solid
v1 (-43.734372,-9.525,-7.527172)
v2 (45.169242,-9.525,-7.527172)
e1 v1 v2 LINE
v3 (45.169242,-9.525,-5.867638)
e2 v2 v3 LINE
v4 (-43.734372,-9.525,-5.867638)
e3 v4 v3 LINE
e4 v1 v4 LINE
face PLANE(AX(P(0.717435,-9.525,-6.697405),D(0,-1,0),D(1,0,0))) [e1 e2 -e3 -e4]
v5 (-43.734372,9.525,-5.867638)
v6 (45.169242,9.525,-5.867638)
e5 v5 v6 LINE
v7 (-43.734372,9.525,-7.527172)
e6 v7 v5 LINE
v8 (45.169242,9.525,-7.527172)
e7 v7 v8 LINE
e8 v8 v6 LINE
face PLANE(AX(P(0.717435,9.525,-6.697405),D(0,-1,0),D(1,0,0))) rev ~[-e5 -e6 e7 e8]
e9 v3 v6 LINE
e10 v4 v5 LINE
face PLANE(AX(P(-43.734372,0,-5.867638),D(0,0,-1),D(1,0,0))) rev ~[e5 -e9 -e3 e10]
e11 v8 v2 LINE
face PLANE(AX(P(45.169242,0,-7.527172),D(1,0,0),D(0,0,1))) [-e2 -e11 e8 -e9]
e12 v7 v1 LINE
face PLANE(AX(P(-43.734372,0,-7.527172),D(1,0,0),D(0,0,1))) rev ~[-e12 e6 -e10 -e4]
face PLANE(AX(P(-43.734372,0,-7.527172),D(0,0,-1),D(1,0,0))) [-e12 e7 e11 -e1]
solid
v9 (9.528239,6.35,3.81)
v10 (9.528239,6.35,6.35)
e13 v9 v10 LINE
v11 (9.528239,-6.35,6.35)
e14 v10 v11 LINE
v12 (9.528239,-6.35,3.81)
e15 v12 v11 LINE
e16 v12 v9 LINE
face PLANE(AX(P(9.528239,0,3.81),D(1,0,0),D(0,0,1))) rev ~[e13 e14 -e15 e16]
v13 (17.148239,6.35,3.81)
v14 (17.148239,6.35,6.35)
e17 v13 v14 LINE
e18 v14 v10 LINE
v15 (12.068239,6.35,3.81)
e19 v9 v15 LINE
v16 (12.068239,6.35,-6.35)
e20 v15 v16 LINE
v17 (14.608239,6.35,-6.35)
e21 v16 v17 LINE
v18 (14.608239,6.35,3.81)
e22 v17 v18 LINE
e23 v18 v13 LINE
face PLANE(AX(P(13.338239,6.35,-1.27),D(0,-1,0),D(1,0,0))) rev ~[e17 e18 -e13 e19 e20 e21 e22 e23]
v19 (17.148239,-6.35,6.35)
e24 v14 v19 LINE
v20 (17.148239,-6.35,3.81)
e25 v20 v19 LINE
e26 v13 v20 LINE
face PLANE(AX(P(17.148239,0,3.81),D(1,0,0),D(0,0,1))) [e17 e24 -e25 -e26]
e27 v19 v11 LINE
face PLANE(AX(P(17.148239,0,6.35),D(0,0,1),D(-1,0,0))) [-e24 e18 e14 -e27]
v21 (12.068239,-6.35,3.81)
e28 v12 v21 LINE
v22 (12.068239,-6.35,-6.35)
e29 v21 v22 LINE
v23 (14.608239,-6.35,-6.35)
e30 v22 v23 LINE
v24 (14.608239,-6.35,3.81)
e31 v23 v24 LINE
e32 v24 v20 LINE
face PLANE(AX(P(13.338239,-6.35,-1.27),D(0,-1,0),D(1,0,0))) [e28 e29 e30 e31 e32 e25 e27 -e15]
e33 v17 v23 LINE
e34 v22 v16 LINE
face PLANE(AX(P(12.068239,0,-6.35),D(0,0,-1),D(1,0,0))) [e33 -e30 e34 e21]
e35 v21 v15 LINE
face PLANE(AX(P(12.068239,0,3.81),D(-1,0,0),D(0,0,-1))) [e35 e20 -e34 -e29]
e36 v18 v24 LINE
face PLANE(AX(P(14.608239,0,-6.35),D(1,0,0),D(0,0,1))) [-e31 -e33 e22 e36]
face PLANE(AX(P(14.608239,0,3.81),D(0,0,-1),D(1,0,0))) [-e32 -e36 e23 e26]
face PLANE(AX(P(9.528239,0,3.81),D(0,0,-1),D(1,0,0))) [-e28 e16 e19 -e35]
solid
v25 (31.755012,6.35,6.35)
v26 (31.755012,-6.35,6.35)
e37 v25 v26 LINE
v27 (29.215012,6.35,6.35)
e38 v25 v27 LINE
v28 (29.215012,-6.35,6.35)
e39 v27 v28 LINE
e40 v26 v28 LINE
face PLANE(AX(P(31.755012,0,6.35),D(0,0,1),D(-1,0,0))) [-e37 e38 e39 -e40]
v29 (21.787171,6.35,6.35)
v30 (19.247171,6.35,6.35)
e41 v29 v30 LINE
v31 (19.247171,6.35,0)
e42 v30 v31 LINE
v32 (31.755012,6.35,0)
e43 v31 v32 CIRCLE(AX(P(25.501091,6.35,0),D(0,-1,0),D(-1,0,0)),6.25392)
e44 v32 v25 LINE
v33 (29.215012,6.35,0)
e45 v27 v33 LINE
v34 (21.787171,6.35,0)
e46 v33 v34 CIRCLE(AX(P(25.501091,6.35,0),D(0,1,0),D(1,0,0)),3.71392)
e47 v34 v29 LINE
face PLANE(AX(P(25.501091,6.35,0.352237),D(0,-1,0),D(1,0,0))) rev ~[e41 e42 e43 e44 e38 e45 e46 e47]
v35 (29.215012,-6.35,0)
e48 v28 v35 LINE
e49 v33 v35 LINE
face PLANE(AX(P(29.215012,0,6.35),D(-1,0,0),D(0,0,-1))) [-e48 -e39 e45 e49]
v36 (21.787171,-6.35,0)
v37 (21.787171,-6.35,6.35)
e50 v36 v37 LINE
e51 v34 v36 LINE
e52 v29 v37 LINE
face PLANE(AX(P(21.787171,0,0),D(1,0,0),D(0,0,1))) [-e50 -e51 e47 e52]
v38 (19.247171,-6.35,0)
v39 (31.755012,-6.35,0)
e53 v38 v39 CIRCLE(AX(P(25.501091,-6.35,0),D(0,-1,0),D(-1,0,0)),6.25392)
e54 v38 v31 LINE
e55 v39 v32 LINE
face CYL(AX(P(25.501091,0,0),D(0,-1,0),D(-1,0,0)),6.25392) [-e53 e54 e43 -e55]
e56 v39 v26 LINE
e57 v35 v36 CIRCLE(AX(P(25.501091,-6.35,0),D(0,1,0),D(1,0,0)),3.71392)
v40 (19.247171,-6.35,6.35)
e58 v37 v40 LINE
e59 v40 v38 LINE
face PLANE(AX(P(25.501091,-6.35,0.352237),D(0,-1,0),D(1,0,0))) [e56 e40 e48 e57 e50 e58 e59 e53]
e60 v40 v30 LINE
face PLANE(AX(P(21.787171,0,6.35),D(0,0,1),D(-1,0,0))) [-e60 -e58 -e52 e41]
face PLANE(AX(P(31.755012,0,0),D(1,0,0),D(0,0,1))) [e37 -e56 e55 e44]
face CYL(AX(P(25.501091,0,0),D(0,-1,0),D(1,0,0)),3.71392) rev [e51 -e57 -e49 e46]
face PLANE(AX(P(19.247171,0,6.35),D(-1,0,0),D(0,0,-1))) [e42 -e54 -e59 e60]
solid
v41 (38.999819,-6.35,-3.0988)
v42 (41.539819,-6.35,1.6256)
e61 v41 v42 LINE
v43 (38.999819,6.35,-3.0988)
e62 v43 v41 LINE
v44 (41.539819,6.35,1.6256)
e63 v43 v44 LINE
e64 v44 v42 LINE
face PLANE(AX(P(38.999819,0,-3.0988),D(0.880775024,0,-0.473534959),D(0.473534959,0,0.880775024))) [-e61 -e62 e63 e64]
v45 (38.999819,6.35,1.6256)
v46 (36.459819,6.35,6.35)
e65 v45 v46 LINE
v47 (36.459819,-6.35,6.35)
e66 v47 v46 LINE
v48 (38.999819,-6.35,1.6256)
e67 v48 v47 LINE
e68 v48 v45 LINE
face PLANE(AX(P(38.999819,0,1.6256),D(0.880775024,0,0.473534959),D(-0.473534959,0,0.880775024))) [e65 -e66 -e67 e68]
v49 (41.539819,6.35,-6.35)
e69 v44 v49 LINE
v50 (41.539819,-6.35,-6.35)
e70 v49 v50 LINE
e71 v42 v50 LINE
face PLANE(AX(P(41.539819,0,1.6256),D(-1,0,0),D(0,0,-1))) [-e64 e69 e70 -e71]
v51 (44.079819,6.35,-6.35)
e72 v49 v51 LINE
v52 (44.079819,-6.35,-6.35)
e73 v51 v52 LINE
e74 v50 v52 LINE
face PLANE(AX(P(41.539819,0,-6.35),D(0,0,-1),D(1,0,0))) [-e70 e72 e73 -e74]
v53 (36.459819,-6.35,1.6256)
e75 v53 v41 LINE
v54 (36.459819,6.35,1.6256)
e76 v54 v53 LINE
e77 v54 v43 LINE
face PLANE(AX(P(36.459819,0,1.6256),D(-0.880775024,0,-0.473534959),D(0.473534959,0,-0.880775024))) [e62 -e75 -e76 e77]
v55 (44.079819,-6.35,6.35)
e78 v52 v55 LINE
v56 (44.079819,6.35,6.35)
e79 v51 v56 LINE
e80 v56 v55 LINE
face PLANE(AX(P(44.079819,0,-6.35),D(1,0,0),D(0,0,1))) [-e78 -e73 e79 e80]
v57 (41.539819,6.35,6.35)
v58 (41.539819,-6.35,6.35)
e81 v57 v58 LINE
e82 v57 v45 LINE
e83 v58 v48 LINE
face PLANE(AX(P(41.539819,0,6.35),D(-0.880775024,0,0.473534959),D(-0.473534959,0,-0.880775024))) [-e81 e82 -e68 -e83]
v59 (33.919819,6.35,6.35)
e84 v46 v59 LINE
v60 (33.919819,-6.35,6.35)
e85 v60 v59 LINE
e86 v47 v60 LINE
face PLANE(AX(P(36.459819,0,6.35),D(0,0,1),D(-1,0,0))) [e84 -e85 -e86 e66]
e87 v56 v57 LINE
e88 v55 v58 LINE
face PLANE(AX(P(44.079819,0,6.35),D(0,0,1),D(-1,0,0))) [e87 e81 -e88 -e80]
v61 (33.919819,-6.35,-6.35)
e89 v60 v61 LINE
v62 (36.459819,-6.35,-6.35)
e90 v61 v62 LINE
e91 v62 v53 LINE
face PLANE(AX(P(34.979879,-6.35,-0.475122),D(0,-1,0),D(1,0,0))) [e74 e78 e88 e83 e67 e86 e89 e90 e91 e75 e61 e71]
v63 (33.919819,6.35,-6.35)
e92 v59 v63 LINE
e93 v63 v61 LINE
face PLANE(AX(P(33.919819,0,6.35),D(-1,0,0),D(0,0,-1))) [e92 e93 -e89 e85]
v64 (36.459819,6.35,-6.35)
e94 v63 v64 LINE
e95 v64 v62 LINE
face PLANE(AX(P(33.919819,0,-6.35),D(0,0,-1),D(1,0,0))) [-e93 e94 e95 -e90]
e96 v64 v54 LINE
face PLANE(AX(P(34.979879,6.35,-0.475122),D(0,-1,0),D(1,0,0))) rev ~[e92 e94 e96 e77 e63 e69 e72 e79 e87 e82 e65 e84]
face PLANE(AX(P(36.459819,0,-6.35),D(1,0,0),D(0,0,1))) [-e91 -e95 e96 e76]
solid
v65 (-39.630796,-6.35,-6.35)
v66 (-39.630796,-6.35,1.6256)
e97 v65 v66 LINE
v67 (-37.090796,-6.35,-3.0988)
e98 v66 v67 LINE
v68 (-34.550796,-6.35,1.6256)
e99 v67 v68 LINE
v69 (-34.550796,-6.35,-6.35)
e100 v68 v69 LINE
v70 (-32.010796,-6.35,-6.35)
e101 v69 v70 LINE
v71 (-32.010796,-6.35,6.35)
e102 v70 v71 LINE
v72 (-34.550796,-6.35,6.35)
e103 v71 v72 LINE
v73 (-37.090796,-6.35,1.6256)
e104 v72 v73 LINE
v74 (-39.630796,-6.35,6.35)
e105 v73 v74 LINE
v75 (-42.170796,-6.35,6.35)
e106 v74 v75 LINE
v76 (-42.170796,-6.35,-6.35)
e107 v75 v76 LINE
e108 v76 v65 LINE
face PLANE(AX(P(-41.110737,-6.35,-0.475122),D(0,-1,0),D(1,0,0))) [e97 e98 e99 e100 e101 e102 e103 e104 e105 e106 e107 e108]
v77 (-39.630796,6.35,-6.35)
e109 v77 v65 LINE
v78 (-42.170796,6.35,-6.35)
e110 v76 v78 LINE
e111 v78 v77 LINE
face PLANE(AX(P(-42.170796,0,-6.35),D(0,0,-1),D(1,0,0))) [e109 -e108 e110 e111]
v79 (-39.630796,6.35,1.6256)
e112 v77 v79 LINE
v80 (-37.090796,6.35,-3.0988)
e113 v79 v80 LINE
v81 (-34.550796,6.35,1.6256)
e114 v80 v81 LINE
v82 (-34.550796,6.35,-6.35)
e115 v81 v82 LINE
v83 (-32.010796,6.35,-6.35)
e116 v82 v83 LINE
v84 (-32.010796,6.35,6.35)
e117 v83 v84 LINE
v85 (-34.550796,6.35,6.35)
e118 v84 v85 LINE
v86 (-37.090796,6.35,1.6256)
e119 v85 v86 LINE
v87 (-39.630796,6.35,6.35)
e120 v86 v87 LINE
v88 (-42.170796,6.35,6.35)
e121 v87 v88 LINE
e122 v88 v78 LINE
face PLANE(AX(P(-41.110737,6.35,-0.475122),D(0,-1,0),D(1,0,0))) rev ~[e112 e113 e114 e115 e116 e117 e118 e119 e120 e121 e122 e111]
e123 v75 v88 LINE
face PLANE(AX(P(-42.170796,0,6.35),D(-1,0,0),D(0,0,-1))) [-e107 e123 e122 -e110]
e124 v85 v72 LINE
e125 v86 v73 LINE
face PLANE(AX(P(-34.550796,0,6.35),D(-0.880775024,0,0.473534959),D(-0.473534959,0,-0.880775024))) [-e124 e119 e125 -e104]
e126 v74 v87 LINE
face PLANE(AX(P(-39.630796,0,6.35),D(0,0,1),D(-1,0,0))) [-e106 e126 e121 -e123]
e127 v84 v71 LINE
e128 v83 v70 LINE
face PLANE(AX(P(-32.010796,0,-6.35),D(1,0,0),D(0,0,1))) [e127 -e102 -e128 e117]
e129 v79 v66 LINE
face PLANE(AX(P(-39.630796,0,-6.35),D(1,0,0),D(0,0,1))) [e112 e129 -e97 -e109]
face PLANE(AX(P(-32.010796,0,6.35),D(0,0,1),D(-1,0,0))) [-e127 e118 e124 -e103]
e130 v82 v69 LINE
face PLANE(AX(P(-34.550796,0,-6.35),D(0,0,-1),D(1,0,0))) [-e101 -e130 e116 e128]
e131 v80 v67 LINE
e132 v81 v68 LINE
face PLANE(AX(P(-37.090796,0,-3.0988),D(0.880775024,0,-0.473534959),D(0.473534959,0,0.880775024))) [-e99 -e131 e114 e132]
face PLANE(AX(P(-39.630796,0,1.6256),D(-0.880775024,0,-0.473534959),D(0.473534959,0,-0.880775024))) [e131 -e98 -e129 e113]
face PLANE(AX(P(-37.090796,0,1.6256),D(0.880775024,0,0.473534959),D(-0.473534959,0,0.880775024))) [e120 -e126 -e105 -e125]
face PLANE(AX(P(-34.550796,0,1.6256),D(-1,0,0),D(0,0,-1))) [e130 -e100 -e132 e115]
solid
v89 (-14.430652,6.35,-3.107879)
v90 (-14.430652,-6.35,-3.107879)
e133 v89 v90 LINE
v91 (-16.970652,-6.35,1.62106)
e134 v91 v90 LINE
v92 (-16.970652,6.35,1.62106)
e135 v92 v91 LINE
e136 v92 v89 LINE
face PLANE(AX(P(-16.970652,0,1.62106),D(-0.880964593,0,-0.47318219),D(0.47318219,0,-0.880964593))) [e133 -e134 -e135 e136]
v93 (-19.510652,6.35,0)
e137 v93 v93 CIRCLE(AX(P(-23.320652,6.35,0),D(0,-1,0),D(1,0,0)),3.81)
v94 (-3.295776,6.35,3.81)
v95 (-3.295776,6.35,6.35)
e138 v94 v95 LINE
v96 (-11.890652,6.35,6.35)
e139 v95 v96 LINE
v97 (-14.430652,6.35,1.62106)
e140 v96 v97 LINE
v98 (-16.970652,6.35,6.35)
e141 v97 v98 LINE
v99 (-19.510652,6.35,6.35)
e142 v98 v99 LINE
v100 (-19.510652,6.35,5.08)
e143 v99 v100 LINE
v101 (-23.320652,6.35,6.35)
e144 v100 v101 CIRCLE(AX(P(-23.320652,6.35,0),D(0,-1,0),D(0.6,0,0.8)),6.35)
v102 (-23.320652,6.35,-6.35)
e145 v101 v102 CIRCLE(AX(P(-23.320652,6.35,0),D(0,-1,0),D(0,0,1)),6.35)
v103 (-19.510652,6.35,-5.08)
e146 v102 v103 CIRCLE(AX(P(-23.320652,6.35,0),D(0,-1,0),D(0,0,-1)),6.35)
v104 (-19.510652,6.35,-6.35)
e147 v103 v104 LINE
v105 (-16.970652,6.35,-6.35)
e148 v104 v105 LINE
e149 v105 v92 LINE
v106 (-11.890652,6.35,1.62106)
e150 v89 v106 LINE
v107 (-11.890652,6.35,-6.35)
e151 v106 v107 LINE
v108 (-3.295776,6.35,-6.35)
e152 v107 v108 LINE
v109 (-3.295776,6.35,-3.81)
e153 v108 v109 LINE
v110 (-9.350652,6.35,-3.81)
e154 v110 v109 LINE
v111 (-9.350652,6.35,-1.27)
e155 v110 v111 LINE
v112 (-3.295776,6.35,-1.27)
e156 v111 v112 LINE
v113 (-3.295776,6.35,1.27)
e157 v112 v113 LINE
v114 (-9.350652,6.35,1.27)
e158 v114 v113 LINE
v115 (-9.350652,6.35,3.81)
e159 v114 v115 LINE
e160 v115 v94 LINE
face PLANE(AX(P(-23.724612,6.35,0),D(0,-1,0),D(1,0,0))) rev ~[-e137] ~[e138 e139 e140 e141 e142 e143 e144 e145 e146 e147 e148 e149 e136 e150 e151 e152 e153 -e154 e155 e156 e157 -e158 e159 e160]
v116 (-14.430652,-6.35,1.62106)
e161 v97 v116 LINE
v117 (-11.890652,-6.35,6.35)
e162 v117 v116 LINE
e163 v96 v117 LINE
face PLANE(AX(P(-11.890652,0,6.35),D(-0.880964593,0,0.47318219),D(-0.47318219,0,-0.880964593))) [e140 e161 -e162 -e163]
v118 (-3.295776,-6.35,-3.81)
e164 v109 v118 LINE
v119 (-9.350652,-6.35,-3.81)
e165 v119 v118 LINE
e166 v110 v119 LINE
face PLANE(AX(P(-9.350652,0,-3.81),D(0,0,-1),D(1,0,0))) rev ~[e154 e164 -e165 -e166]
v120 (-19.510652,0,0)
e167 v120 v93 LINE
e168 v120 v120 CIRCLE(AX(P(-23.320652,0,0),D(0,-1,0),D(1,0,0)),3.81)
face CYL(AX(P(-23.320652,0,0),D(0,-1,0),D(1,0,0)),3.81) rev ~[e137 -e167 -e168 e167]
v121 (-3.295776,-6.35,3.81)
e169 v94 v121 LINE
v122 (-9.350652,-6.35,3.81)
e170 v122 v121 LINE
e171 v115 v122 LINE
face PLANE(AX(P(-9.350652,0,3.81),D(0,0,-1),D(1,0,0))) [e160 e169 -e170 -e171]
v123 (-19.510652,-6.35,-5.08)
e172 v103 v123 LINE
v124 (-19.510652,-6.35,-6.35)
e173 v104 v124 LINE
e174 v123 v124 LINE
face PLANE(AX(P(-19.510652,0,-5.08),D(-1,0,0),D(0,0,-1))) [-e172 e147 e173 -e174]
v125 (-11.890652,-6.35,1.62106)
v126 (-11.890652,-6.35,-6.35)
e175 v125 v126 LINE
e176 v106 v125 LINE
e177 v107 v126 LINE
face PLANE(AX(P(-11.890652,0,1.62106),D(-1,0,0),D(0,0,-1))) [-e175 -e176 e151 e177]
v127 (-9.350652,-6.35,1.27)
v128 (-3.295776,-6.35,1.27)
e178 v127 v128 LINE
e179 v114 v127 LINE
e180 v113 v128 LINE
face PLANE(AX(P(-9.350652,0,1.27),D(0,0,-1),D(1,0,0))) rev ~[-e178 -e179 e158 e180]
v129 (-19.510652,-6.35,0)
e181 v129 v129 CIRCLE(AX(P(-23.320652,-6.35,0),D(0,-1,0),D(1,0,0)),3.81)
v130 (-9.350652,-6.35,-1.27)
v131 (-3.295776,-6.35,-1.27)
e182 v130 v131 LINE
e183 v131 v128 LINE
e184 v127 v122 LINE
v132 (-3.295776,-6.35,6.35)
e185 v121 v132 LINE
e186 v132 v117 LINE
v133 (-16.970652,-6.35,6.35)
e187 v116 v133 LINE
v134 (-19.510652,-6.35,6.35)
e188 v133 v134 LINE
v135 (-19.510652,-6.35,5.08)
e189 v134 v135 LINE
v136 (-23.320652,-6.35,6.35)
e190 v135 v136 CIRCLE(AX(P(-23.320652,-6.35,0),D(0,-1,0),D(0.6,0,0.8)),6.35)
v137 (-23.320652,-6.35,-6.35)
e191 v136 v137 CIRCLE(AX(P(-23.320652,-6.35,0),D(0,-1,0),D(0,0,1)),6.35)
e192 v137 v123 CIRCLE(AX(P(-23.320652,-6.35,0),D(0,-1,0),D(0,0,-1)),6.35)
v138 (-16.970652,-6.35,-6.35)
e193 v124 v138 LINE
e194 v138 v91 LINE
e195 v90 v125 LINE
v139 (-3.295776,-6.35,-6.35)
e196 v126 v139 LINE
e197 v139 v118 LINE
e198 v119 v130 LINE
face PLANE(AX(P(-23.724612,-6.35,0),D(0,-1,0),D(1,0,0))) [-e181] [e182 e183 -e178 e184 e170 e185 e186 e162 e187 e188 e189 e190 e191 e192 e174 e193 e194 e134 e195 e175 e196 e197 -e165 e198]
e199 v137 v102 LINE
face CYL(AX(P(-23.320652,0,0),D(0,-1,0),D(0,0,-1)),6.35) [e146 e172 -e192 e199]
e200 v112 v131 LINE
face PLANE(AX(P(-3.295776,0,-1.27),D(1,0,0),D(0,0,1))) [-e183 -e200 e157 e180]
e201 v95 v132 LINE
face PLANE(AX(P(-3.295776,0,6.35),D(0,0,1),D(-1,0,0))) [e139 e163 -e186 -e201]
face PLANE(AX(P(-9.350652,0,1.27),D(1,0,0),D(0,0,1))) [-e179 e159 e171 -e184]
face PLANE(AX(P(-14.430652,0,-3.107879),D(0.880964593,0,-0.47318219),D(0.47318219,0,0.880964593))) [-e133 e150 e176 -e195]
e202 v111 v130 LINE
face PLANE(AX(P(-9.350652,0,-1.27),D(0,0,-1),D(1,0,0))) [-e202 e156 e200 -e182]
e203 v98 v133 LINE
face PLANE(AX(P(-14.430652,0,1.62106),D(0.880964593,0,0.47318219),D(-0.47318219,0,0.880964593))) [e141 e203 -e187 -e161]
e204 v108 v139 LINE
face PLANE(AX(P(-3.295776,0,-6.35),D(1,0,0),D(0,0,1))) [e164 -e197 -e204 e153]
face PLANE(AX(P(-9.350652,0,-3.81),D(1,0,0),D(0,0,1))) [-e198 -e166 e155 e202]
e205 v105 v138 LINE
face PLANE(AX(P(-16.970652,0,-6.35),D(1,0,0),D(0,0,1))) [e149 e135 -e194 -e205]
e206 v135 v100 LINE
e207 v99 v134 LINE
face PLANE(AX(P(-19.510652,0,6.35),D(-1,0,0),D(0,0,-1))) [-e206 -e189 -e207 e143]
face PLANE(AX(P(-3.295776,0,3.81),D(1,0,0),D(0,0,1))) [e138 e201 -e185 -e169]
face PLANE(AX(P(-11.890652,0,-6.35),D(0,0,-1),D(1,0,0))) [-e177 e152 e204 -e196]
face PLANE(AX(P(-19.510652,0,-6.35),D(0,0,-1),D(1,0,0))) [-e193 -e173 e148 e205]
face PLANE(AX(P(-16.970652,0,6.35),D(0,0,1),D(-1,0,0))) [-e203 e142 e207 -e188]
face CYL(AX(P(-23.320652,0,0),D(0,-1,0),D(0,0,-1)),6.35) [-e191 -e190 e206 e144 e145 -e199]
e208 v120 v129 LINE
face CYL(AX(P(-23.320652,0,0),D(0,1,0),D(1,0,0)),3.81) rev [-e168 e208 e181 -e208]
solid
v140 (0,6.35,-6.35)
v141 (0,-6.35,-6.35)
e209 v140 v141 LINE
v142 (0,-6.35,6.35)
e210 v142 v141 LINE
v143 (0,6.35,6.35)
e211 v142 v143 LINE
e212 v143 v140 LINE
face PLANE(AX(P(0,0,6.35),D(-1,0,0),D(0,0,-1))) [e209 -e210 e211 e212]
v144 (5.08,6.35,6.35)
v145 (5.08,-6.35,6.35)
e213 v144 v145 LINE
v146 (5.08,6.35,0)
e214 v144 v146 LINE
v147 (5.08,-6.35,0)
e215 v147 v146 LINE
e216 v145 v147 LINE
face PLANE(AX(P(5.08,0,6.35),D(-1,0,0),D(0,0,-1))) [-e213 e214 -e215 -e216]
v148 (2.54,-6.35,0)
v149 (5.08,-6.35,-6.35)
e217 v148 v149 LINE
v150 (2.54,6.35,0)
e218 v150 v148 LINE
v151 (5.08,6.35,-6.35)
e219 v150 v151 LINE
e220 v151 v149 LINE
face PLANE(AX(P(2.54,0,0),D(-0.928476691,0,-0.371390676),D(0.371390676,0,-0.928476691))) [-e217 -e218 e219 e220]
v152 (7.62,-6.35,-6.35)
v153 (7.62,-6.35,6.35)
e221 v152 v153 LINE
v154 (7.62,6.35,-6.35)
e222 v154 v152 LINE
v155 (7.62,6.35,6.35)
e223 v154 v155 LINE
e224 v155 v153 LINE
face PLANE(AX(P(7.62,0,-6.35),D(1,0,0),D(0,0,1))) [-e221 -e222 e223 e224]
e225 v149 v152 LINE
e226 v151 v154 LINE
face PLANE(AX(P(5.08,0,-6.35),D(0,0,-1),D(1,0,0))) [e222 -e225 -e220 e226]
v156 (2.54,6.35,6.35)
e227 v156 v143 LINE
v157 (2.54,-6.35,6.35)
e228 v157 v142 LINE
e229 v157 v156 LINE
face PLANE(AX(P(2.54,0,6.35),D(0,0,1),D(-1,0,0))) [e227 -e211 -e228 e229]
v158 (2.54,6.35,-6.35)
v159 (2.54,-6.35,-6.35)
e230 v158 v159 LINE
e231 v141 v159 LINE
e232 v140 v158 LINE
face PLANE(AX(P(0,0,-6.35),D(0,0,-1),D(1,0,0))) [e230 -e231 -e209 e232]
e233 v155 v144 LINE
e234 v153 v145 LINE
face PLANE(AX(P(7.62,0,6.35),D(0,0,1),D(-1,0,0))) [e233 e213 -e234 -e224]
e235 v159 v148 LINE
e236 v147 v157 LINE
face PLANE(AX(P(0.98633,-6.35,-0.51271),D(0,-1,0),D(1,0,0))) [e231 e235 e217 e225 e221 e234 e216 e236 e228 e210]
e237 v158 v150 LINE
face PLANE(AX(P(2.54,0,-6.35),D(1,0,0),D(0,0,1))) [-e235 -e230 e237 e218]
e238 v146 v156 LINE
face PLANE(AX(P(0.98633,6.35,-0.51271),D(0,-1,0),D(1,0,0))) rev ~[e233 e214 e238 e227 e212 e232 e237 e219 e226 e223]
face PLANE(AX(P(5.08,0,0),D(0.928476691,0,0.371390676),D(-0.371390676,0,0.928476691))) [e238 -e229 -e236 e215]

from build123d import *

# Parameters (mm, degrees)
F1_DEPTH = 6.35
F0_R     = 3.81
F0_W     = 6.0548761711
F0_H     = 2.54
F0_W_2   = 2.54
F0_H_2   = 10.16
F2_W     = 88.9036133885
F2_H     = 1.6595339403
F3_DEPTH = 9.525


with BuildPart() as f1:
    # F0 (on Front) → F1 (new body, symmetric)
    with BuildSketch(Plane.XZ):
        Polygon((-42.1707964678, -6.35), (-39.6307964678, -6.35), (-39.6307964678, 1.6256), (-42.1707964678, 6.35), align=None)
        Polygon((-42.1707964678, 6.35), (-39.6307964678, 1.6256), (-39.6307964678, 6.35), align=None)
        Polygon((-39.6307964678, 6.35), (-39.6307964678, 1.6256), (-37.0907964678, -3.0988), (-37.0907964678, 1.6256), align=None)
        Polygon((-37.0907964678, 1.6256), (-37.0907964678, -3.0988), (-34.5507964678, 1.6256), (-34.5507964678, 6.35), align=None)
        Polygon((-34.5507964678, 6.35), (-34.5507964678, 1.6256), (-32.0107964678, 6.35), align=None)
        Polygon((-34.5507964678, 1.6256), (-34.5507964678, -6.35), (-32.0107964678, -6.35), (-32.0107964678, 6.35), align=None)
    extrude(amount=F1_DEPTH, both=True)


with BuildPart() as f1b:
    # F0 (on Front) → F1, piece 2 (new body, symmetric)
    with BuildSketch(Plane.XZ):
        with BuildLine():
            ThreePointArc((-23.3206523725, 6.35), (-29.6706523725, 0), (-23.3206523725, -6.35))
            ThreePointArc((-23.3206523725, -6.35), (-21.3126060583, -6.0241389426), (-19.5106523725, -5.08))
            Line((-19.5106523725, -5.08), (-19.5106523725, 0))
            Line((-19.5106523725, 0), (-19.5106523725, 5.08))
            ThreePointArc((-19.5106523725, 5.08), (-21.3126060583, 6.0241389426), (-23.3206523725, 6.35))
        make_face()
        with Locations((-23.3206523725, 0)):
            Circle(F0_R, mode=Mode.SUBTRACT)
        with BuildLine():
            ThreePointArc((-16.9706523725, 0), (-17.6410397097, 2.8398063314), (-19.5106523725, 5.08))
            Line((-19.5106523725, 5.08), (-19.5106523725, 0))
            Line((-19.5106523725, 0), (-16.9706523725, 0))
        make_face()
        with BuildLine():
            Line((-19.5106523725, 0), (-19.5106523725, -5.08))
            ThreePointArc((-19.5106523725, -5.08), (-17.6410397097, -2.8398063314), (-16.9706523725, 0))
            Line((-16.9706523725, 0), (-19.5106523725, 0))
        make_face()
        with BuildLine():
            Line((-19.5106523725, -5.08), (-19.5106523725, -6.35))
            Line((-19.5106523725, -6.35), (-16.9706523725, -6.35))
            Line((-16.9706523725, -6.35), (-16.9706523725, 0))
            ThreePointArc((-16.9706523725, 0), (-17.6410397097, -2.8398063314), (-19.5106523725, -5.08))
        make_face()
        Polygon((-16.9706523725, 6.35), (-19.5106523725, 6.35), (-16.9706523725, 1.621060252), align=None)
        with BuildLine():
            Line((-16.9706523725, 1.621060252), (-19.5106523725, 6.35))
            Line((-19.5106523725, 6.35), (-19.5106523725, 5.08))
            ThreePointArc((-19.5106523725, 5.08), (-17.6410397097, 2.8398063314), (-16.9706523725, 0))
            Line((-16.9706523725, 0), (-16.9706523725, 1.621060252))
        make_face()
        Polygon((-14.4306523725, 1.621060252), (-16.9706523725, 6.35), (-16.9706523725, 1.621060252), (-14.4306523725, -3.1078794961), align=None)
        Polygon((-11.8906523725, 6.35), (-14.4306523725, 1.621060252), (-14.4306523725, -3.1078794961), (-11.8906523725, 1.621060252), (-11.8906523725, 3.81), align=None)
        Polygon((-9.3506523725, 6.35), (-11.8906523725, 6.35), (-11.8906523725, 3.81), (-10.7149328125, 3.81), align=None)
        Polygon((-11.8906523725, 3.81), (-11.8906523725, 1.621060252), (-10.7149328125, 3.81), align=None)
        with Locations((-6.323214287, 5.08)):
            Rectangle(F0_W, F0_H)
        Polygon((-10.7149328125, 3.81), (-11.8906523725, 1.621060252), (-11.8906523725, 1.27), (-9.3506523725, 1.27), (-9.3506523725, 3.81), align=None)
        Polygon((-9.3506523725, 3.81), (-9.3506523725, 6.35), (-10.7149328125, 3.81), align=None)
        with Locations((-10.6206523725, 0)):
            Rectangle(F0_W_2, F0_H)
        with Locations((-6.323214287, 0)):
            Rectangle(F0_W, F0_H)
        with Locations((-10.6206523725, -2.54)):
            Rectangle(F0_W_2, F0_H)
        with Locations((-10.6206523725, -5.08)):
            Rectangle(F0_W_2, F0_H)
        with Locations((-6.323214287, -5.08)):
            Rectangle(F0_W, F0_H)
    extrude(amount=F1_DEPTH, both=True)


with BuildPart() as f1c:
    # F0 (on Front) → F1, piece 3 (new body, symmetric)
    with BuildSketch(Plane.XZ):
        Polygon((0, 6.35), (0, -6.35), (2.54, -6.35), (2.54, 0), align=None)
        Polygon((2.54, 6.35), (0, 6.35), (2.54, 0), align=None)
        Polygon((5.08, 0), (2.54, 6.35), (2.54, 0), (5.08, -6.35), align=None)
        Polygon((5.08, 0), (5.08, -6.35), (7.62, -6.35), align=None)
        Polygon((5.08, 6.35), (5.08, 0), (7.62, -6.35), (7.62, 6.35), align=None)
    extrude(amount=F1_DEPTH, both=True)


with BuildPart() as f1d:
    # F0 (on Front) → F1, piece 4 (new body, symmetric)
    with BuildSketch(Plane.XZ):
        with Locations((13.3382392576, -1.27)):
            Rectangle(F0_W_2, F0_H_2)
        with Locations((15.8782392576, 5.08)):
            Rectangle(F0_W_2, F0_H)
        with Locations((13.3382392576, 5.08)):
            Rectangle(F0_W_2, F0_H)
        with Locations((10.7982392576, 5.08)):
            Rectangle(F0_W_2, F0_H)
    extrude(amount=F1_DEPTH, both=True)


with BuildPart() as f1e:
    # F0 (on Front) → F1, piece 5 (new body, symmetric)
    with BuildSketch(Plane.XZ):
        with BuildLine():
            Line((31.7550115287, 0), (31.7550115287, 6.35))
            Line((31.7550115287, 6.35), (29.2150115287, 6.35))
            Line((29.2150115287, 6.35), (29.2150115287, 0))
            ThreePointArc((29.2150115287, 0), (25.5010910332, -3.7139204955), (21.7871705377, 0))
            Line((21.7871705377, 0), (21.7871705377, 6.35))
            Line((21.7871705377, 6.35), (19.2471705377, 6.35))
            Line((19.2471705377, 6.35), (19.2471705377, 0))
            ThreePointArc((19.2471705377, 0), (25.5010910332, -6.2539204955), (31.7550115287, 0))
        make_face()
    extrude(amount=F1_DEPTH, both=True)


with BuildPart() as f1f:
    # F0 (on Front) → F1, piece 6 (new body, symmetric)
    with BuildSketch(Plane.XZ):
        Polygon((33.9198186994, 6.35), (33.9198186994, -6.35), (36.4598186994, -6.35), (36.4598186994, 1.6256), align=None)
        Polygon((36.4598186994, 6.35), (33.9198186994, 6.35), (36.4598186994, 1.6256), align=None)
        Polygon((36.4598186994, 6.35), (36.4598186994, 1.6256), (38.9998186994, -3.0988), (38.9998186994, 1.6256), align=None)
        Polygon((38.9998186994, 1.6256), (38.9998186994, -3.0988), (41.5398186994, 1.6256), (41.5398186994, 6.35), align=None)
        Polygon((41.5398186994, 6.35), (41.5398186994, 1.6256), (44.0798186994, 6.35), align=None)
        Polygon((41.5398186994, 1.6256), (41.5398186994, -6.35), (44.0798186994, -6.35), (44.0798186994, 6.35), align=None)
    extrude(amount=F1_DEPTH, both=True)


with BuildPart() as f3:
    # F2 (on Front) → F3 (new body, symmetric)
    with BuildSketch(Plane.XZ):
        with Locations((0.7174350321, -6.6974051297)):
            Rectangle(F2_W, F2_H)
    extrude(amount=F3_DEPTH, both=True)


solid = Compound([f1.part, f1b.part, f1c.part, f1d.part, f1e.part, f1f.part, f3.part])
